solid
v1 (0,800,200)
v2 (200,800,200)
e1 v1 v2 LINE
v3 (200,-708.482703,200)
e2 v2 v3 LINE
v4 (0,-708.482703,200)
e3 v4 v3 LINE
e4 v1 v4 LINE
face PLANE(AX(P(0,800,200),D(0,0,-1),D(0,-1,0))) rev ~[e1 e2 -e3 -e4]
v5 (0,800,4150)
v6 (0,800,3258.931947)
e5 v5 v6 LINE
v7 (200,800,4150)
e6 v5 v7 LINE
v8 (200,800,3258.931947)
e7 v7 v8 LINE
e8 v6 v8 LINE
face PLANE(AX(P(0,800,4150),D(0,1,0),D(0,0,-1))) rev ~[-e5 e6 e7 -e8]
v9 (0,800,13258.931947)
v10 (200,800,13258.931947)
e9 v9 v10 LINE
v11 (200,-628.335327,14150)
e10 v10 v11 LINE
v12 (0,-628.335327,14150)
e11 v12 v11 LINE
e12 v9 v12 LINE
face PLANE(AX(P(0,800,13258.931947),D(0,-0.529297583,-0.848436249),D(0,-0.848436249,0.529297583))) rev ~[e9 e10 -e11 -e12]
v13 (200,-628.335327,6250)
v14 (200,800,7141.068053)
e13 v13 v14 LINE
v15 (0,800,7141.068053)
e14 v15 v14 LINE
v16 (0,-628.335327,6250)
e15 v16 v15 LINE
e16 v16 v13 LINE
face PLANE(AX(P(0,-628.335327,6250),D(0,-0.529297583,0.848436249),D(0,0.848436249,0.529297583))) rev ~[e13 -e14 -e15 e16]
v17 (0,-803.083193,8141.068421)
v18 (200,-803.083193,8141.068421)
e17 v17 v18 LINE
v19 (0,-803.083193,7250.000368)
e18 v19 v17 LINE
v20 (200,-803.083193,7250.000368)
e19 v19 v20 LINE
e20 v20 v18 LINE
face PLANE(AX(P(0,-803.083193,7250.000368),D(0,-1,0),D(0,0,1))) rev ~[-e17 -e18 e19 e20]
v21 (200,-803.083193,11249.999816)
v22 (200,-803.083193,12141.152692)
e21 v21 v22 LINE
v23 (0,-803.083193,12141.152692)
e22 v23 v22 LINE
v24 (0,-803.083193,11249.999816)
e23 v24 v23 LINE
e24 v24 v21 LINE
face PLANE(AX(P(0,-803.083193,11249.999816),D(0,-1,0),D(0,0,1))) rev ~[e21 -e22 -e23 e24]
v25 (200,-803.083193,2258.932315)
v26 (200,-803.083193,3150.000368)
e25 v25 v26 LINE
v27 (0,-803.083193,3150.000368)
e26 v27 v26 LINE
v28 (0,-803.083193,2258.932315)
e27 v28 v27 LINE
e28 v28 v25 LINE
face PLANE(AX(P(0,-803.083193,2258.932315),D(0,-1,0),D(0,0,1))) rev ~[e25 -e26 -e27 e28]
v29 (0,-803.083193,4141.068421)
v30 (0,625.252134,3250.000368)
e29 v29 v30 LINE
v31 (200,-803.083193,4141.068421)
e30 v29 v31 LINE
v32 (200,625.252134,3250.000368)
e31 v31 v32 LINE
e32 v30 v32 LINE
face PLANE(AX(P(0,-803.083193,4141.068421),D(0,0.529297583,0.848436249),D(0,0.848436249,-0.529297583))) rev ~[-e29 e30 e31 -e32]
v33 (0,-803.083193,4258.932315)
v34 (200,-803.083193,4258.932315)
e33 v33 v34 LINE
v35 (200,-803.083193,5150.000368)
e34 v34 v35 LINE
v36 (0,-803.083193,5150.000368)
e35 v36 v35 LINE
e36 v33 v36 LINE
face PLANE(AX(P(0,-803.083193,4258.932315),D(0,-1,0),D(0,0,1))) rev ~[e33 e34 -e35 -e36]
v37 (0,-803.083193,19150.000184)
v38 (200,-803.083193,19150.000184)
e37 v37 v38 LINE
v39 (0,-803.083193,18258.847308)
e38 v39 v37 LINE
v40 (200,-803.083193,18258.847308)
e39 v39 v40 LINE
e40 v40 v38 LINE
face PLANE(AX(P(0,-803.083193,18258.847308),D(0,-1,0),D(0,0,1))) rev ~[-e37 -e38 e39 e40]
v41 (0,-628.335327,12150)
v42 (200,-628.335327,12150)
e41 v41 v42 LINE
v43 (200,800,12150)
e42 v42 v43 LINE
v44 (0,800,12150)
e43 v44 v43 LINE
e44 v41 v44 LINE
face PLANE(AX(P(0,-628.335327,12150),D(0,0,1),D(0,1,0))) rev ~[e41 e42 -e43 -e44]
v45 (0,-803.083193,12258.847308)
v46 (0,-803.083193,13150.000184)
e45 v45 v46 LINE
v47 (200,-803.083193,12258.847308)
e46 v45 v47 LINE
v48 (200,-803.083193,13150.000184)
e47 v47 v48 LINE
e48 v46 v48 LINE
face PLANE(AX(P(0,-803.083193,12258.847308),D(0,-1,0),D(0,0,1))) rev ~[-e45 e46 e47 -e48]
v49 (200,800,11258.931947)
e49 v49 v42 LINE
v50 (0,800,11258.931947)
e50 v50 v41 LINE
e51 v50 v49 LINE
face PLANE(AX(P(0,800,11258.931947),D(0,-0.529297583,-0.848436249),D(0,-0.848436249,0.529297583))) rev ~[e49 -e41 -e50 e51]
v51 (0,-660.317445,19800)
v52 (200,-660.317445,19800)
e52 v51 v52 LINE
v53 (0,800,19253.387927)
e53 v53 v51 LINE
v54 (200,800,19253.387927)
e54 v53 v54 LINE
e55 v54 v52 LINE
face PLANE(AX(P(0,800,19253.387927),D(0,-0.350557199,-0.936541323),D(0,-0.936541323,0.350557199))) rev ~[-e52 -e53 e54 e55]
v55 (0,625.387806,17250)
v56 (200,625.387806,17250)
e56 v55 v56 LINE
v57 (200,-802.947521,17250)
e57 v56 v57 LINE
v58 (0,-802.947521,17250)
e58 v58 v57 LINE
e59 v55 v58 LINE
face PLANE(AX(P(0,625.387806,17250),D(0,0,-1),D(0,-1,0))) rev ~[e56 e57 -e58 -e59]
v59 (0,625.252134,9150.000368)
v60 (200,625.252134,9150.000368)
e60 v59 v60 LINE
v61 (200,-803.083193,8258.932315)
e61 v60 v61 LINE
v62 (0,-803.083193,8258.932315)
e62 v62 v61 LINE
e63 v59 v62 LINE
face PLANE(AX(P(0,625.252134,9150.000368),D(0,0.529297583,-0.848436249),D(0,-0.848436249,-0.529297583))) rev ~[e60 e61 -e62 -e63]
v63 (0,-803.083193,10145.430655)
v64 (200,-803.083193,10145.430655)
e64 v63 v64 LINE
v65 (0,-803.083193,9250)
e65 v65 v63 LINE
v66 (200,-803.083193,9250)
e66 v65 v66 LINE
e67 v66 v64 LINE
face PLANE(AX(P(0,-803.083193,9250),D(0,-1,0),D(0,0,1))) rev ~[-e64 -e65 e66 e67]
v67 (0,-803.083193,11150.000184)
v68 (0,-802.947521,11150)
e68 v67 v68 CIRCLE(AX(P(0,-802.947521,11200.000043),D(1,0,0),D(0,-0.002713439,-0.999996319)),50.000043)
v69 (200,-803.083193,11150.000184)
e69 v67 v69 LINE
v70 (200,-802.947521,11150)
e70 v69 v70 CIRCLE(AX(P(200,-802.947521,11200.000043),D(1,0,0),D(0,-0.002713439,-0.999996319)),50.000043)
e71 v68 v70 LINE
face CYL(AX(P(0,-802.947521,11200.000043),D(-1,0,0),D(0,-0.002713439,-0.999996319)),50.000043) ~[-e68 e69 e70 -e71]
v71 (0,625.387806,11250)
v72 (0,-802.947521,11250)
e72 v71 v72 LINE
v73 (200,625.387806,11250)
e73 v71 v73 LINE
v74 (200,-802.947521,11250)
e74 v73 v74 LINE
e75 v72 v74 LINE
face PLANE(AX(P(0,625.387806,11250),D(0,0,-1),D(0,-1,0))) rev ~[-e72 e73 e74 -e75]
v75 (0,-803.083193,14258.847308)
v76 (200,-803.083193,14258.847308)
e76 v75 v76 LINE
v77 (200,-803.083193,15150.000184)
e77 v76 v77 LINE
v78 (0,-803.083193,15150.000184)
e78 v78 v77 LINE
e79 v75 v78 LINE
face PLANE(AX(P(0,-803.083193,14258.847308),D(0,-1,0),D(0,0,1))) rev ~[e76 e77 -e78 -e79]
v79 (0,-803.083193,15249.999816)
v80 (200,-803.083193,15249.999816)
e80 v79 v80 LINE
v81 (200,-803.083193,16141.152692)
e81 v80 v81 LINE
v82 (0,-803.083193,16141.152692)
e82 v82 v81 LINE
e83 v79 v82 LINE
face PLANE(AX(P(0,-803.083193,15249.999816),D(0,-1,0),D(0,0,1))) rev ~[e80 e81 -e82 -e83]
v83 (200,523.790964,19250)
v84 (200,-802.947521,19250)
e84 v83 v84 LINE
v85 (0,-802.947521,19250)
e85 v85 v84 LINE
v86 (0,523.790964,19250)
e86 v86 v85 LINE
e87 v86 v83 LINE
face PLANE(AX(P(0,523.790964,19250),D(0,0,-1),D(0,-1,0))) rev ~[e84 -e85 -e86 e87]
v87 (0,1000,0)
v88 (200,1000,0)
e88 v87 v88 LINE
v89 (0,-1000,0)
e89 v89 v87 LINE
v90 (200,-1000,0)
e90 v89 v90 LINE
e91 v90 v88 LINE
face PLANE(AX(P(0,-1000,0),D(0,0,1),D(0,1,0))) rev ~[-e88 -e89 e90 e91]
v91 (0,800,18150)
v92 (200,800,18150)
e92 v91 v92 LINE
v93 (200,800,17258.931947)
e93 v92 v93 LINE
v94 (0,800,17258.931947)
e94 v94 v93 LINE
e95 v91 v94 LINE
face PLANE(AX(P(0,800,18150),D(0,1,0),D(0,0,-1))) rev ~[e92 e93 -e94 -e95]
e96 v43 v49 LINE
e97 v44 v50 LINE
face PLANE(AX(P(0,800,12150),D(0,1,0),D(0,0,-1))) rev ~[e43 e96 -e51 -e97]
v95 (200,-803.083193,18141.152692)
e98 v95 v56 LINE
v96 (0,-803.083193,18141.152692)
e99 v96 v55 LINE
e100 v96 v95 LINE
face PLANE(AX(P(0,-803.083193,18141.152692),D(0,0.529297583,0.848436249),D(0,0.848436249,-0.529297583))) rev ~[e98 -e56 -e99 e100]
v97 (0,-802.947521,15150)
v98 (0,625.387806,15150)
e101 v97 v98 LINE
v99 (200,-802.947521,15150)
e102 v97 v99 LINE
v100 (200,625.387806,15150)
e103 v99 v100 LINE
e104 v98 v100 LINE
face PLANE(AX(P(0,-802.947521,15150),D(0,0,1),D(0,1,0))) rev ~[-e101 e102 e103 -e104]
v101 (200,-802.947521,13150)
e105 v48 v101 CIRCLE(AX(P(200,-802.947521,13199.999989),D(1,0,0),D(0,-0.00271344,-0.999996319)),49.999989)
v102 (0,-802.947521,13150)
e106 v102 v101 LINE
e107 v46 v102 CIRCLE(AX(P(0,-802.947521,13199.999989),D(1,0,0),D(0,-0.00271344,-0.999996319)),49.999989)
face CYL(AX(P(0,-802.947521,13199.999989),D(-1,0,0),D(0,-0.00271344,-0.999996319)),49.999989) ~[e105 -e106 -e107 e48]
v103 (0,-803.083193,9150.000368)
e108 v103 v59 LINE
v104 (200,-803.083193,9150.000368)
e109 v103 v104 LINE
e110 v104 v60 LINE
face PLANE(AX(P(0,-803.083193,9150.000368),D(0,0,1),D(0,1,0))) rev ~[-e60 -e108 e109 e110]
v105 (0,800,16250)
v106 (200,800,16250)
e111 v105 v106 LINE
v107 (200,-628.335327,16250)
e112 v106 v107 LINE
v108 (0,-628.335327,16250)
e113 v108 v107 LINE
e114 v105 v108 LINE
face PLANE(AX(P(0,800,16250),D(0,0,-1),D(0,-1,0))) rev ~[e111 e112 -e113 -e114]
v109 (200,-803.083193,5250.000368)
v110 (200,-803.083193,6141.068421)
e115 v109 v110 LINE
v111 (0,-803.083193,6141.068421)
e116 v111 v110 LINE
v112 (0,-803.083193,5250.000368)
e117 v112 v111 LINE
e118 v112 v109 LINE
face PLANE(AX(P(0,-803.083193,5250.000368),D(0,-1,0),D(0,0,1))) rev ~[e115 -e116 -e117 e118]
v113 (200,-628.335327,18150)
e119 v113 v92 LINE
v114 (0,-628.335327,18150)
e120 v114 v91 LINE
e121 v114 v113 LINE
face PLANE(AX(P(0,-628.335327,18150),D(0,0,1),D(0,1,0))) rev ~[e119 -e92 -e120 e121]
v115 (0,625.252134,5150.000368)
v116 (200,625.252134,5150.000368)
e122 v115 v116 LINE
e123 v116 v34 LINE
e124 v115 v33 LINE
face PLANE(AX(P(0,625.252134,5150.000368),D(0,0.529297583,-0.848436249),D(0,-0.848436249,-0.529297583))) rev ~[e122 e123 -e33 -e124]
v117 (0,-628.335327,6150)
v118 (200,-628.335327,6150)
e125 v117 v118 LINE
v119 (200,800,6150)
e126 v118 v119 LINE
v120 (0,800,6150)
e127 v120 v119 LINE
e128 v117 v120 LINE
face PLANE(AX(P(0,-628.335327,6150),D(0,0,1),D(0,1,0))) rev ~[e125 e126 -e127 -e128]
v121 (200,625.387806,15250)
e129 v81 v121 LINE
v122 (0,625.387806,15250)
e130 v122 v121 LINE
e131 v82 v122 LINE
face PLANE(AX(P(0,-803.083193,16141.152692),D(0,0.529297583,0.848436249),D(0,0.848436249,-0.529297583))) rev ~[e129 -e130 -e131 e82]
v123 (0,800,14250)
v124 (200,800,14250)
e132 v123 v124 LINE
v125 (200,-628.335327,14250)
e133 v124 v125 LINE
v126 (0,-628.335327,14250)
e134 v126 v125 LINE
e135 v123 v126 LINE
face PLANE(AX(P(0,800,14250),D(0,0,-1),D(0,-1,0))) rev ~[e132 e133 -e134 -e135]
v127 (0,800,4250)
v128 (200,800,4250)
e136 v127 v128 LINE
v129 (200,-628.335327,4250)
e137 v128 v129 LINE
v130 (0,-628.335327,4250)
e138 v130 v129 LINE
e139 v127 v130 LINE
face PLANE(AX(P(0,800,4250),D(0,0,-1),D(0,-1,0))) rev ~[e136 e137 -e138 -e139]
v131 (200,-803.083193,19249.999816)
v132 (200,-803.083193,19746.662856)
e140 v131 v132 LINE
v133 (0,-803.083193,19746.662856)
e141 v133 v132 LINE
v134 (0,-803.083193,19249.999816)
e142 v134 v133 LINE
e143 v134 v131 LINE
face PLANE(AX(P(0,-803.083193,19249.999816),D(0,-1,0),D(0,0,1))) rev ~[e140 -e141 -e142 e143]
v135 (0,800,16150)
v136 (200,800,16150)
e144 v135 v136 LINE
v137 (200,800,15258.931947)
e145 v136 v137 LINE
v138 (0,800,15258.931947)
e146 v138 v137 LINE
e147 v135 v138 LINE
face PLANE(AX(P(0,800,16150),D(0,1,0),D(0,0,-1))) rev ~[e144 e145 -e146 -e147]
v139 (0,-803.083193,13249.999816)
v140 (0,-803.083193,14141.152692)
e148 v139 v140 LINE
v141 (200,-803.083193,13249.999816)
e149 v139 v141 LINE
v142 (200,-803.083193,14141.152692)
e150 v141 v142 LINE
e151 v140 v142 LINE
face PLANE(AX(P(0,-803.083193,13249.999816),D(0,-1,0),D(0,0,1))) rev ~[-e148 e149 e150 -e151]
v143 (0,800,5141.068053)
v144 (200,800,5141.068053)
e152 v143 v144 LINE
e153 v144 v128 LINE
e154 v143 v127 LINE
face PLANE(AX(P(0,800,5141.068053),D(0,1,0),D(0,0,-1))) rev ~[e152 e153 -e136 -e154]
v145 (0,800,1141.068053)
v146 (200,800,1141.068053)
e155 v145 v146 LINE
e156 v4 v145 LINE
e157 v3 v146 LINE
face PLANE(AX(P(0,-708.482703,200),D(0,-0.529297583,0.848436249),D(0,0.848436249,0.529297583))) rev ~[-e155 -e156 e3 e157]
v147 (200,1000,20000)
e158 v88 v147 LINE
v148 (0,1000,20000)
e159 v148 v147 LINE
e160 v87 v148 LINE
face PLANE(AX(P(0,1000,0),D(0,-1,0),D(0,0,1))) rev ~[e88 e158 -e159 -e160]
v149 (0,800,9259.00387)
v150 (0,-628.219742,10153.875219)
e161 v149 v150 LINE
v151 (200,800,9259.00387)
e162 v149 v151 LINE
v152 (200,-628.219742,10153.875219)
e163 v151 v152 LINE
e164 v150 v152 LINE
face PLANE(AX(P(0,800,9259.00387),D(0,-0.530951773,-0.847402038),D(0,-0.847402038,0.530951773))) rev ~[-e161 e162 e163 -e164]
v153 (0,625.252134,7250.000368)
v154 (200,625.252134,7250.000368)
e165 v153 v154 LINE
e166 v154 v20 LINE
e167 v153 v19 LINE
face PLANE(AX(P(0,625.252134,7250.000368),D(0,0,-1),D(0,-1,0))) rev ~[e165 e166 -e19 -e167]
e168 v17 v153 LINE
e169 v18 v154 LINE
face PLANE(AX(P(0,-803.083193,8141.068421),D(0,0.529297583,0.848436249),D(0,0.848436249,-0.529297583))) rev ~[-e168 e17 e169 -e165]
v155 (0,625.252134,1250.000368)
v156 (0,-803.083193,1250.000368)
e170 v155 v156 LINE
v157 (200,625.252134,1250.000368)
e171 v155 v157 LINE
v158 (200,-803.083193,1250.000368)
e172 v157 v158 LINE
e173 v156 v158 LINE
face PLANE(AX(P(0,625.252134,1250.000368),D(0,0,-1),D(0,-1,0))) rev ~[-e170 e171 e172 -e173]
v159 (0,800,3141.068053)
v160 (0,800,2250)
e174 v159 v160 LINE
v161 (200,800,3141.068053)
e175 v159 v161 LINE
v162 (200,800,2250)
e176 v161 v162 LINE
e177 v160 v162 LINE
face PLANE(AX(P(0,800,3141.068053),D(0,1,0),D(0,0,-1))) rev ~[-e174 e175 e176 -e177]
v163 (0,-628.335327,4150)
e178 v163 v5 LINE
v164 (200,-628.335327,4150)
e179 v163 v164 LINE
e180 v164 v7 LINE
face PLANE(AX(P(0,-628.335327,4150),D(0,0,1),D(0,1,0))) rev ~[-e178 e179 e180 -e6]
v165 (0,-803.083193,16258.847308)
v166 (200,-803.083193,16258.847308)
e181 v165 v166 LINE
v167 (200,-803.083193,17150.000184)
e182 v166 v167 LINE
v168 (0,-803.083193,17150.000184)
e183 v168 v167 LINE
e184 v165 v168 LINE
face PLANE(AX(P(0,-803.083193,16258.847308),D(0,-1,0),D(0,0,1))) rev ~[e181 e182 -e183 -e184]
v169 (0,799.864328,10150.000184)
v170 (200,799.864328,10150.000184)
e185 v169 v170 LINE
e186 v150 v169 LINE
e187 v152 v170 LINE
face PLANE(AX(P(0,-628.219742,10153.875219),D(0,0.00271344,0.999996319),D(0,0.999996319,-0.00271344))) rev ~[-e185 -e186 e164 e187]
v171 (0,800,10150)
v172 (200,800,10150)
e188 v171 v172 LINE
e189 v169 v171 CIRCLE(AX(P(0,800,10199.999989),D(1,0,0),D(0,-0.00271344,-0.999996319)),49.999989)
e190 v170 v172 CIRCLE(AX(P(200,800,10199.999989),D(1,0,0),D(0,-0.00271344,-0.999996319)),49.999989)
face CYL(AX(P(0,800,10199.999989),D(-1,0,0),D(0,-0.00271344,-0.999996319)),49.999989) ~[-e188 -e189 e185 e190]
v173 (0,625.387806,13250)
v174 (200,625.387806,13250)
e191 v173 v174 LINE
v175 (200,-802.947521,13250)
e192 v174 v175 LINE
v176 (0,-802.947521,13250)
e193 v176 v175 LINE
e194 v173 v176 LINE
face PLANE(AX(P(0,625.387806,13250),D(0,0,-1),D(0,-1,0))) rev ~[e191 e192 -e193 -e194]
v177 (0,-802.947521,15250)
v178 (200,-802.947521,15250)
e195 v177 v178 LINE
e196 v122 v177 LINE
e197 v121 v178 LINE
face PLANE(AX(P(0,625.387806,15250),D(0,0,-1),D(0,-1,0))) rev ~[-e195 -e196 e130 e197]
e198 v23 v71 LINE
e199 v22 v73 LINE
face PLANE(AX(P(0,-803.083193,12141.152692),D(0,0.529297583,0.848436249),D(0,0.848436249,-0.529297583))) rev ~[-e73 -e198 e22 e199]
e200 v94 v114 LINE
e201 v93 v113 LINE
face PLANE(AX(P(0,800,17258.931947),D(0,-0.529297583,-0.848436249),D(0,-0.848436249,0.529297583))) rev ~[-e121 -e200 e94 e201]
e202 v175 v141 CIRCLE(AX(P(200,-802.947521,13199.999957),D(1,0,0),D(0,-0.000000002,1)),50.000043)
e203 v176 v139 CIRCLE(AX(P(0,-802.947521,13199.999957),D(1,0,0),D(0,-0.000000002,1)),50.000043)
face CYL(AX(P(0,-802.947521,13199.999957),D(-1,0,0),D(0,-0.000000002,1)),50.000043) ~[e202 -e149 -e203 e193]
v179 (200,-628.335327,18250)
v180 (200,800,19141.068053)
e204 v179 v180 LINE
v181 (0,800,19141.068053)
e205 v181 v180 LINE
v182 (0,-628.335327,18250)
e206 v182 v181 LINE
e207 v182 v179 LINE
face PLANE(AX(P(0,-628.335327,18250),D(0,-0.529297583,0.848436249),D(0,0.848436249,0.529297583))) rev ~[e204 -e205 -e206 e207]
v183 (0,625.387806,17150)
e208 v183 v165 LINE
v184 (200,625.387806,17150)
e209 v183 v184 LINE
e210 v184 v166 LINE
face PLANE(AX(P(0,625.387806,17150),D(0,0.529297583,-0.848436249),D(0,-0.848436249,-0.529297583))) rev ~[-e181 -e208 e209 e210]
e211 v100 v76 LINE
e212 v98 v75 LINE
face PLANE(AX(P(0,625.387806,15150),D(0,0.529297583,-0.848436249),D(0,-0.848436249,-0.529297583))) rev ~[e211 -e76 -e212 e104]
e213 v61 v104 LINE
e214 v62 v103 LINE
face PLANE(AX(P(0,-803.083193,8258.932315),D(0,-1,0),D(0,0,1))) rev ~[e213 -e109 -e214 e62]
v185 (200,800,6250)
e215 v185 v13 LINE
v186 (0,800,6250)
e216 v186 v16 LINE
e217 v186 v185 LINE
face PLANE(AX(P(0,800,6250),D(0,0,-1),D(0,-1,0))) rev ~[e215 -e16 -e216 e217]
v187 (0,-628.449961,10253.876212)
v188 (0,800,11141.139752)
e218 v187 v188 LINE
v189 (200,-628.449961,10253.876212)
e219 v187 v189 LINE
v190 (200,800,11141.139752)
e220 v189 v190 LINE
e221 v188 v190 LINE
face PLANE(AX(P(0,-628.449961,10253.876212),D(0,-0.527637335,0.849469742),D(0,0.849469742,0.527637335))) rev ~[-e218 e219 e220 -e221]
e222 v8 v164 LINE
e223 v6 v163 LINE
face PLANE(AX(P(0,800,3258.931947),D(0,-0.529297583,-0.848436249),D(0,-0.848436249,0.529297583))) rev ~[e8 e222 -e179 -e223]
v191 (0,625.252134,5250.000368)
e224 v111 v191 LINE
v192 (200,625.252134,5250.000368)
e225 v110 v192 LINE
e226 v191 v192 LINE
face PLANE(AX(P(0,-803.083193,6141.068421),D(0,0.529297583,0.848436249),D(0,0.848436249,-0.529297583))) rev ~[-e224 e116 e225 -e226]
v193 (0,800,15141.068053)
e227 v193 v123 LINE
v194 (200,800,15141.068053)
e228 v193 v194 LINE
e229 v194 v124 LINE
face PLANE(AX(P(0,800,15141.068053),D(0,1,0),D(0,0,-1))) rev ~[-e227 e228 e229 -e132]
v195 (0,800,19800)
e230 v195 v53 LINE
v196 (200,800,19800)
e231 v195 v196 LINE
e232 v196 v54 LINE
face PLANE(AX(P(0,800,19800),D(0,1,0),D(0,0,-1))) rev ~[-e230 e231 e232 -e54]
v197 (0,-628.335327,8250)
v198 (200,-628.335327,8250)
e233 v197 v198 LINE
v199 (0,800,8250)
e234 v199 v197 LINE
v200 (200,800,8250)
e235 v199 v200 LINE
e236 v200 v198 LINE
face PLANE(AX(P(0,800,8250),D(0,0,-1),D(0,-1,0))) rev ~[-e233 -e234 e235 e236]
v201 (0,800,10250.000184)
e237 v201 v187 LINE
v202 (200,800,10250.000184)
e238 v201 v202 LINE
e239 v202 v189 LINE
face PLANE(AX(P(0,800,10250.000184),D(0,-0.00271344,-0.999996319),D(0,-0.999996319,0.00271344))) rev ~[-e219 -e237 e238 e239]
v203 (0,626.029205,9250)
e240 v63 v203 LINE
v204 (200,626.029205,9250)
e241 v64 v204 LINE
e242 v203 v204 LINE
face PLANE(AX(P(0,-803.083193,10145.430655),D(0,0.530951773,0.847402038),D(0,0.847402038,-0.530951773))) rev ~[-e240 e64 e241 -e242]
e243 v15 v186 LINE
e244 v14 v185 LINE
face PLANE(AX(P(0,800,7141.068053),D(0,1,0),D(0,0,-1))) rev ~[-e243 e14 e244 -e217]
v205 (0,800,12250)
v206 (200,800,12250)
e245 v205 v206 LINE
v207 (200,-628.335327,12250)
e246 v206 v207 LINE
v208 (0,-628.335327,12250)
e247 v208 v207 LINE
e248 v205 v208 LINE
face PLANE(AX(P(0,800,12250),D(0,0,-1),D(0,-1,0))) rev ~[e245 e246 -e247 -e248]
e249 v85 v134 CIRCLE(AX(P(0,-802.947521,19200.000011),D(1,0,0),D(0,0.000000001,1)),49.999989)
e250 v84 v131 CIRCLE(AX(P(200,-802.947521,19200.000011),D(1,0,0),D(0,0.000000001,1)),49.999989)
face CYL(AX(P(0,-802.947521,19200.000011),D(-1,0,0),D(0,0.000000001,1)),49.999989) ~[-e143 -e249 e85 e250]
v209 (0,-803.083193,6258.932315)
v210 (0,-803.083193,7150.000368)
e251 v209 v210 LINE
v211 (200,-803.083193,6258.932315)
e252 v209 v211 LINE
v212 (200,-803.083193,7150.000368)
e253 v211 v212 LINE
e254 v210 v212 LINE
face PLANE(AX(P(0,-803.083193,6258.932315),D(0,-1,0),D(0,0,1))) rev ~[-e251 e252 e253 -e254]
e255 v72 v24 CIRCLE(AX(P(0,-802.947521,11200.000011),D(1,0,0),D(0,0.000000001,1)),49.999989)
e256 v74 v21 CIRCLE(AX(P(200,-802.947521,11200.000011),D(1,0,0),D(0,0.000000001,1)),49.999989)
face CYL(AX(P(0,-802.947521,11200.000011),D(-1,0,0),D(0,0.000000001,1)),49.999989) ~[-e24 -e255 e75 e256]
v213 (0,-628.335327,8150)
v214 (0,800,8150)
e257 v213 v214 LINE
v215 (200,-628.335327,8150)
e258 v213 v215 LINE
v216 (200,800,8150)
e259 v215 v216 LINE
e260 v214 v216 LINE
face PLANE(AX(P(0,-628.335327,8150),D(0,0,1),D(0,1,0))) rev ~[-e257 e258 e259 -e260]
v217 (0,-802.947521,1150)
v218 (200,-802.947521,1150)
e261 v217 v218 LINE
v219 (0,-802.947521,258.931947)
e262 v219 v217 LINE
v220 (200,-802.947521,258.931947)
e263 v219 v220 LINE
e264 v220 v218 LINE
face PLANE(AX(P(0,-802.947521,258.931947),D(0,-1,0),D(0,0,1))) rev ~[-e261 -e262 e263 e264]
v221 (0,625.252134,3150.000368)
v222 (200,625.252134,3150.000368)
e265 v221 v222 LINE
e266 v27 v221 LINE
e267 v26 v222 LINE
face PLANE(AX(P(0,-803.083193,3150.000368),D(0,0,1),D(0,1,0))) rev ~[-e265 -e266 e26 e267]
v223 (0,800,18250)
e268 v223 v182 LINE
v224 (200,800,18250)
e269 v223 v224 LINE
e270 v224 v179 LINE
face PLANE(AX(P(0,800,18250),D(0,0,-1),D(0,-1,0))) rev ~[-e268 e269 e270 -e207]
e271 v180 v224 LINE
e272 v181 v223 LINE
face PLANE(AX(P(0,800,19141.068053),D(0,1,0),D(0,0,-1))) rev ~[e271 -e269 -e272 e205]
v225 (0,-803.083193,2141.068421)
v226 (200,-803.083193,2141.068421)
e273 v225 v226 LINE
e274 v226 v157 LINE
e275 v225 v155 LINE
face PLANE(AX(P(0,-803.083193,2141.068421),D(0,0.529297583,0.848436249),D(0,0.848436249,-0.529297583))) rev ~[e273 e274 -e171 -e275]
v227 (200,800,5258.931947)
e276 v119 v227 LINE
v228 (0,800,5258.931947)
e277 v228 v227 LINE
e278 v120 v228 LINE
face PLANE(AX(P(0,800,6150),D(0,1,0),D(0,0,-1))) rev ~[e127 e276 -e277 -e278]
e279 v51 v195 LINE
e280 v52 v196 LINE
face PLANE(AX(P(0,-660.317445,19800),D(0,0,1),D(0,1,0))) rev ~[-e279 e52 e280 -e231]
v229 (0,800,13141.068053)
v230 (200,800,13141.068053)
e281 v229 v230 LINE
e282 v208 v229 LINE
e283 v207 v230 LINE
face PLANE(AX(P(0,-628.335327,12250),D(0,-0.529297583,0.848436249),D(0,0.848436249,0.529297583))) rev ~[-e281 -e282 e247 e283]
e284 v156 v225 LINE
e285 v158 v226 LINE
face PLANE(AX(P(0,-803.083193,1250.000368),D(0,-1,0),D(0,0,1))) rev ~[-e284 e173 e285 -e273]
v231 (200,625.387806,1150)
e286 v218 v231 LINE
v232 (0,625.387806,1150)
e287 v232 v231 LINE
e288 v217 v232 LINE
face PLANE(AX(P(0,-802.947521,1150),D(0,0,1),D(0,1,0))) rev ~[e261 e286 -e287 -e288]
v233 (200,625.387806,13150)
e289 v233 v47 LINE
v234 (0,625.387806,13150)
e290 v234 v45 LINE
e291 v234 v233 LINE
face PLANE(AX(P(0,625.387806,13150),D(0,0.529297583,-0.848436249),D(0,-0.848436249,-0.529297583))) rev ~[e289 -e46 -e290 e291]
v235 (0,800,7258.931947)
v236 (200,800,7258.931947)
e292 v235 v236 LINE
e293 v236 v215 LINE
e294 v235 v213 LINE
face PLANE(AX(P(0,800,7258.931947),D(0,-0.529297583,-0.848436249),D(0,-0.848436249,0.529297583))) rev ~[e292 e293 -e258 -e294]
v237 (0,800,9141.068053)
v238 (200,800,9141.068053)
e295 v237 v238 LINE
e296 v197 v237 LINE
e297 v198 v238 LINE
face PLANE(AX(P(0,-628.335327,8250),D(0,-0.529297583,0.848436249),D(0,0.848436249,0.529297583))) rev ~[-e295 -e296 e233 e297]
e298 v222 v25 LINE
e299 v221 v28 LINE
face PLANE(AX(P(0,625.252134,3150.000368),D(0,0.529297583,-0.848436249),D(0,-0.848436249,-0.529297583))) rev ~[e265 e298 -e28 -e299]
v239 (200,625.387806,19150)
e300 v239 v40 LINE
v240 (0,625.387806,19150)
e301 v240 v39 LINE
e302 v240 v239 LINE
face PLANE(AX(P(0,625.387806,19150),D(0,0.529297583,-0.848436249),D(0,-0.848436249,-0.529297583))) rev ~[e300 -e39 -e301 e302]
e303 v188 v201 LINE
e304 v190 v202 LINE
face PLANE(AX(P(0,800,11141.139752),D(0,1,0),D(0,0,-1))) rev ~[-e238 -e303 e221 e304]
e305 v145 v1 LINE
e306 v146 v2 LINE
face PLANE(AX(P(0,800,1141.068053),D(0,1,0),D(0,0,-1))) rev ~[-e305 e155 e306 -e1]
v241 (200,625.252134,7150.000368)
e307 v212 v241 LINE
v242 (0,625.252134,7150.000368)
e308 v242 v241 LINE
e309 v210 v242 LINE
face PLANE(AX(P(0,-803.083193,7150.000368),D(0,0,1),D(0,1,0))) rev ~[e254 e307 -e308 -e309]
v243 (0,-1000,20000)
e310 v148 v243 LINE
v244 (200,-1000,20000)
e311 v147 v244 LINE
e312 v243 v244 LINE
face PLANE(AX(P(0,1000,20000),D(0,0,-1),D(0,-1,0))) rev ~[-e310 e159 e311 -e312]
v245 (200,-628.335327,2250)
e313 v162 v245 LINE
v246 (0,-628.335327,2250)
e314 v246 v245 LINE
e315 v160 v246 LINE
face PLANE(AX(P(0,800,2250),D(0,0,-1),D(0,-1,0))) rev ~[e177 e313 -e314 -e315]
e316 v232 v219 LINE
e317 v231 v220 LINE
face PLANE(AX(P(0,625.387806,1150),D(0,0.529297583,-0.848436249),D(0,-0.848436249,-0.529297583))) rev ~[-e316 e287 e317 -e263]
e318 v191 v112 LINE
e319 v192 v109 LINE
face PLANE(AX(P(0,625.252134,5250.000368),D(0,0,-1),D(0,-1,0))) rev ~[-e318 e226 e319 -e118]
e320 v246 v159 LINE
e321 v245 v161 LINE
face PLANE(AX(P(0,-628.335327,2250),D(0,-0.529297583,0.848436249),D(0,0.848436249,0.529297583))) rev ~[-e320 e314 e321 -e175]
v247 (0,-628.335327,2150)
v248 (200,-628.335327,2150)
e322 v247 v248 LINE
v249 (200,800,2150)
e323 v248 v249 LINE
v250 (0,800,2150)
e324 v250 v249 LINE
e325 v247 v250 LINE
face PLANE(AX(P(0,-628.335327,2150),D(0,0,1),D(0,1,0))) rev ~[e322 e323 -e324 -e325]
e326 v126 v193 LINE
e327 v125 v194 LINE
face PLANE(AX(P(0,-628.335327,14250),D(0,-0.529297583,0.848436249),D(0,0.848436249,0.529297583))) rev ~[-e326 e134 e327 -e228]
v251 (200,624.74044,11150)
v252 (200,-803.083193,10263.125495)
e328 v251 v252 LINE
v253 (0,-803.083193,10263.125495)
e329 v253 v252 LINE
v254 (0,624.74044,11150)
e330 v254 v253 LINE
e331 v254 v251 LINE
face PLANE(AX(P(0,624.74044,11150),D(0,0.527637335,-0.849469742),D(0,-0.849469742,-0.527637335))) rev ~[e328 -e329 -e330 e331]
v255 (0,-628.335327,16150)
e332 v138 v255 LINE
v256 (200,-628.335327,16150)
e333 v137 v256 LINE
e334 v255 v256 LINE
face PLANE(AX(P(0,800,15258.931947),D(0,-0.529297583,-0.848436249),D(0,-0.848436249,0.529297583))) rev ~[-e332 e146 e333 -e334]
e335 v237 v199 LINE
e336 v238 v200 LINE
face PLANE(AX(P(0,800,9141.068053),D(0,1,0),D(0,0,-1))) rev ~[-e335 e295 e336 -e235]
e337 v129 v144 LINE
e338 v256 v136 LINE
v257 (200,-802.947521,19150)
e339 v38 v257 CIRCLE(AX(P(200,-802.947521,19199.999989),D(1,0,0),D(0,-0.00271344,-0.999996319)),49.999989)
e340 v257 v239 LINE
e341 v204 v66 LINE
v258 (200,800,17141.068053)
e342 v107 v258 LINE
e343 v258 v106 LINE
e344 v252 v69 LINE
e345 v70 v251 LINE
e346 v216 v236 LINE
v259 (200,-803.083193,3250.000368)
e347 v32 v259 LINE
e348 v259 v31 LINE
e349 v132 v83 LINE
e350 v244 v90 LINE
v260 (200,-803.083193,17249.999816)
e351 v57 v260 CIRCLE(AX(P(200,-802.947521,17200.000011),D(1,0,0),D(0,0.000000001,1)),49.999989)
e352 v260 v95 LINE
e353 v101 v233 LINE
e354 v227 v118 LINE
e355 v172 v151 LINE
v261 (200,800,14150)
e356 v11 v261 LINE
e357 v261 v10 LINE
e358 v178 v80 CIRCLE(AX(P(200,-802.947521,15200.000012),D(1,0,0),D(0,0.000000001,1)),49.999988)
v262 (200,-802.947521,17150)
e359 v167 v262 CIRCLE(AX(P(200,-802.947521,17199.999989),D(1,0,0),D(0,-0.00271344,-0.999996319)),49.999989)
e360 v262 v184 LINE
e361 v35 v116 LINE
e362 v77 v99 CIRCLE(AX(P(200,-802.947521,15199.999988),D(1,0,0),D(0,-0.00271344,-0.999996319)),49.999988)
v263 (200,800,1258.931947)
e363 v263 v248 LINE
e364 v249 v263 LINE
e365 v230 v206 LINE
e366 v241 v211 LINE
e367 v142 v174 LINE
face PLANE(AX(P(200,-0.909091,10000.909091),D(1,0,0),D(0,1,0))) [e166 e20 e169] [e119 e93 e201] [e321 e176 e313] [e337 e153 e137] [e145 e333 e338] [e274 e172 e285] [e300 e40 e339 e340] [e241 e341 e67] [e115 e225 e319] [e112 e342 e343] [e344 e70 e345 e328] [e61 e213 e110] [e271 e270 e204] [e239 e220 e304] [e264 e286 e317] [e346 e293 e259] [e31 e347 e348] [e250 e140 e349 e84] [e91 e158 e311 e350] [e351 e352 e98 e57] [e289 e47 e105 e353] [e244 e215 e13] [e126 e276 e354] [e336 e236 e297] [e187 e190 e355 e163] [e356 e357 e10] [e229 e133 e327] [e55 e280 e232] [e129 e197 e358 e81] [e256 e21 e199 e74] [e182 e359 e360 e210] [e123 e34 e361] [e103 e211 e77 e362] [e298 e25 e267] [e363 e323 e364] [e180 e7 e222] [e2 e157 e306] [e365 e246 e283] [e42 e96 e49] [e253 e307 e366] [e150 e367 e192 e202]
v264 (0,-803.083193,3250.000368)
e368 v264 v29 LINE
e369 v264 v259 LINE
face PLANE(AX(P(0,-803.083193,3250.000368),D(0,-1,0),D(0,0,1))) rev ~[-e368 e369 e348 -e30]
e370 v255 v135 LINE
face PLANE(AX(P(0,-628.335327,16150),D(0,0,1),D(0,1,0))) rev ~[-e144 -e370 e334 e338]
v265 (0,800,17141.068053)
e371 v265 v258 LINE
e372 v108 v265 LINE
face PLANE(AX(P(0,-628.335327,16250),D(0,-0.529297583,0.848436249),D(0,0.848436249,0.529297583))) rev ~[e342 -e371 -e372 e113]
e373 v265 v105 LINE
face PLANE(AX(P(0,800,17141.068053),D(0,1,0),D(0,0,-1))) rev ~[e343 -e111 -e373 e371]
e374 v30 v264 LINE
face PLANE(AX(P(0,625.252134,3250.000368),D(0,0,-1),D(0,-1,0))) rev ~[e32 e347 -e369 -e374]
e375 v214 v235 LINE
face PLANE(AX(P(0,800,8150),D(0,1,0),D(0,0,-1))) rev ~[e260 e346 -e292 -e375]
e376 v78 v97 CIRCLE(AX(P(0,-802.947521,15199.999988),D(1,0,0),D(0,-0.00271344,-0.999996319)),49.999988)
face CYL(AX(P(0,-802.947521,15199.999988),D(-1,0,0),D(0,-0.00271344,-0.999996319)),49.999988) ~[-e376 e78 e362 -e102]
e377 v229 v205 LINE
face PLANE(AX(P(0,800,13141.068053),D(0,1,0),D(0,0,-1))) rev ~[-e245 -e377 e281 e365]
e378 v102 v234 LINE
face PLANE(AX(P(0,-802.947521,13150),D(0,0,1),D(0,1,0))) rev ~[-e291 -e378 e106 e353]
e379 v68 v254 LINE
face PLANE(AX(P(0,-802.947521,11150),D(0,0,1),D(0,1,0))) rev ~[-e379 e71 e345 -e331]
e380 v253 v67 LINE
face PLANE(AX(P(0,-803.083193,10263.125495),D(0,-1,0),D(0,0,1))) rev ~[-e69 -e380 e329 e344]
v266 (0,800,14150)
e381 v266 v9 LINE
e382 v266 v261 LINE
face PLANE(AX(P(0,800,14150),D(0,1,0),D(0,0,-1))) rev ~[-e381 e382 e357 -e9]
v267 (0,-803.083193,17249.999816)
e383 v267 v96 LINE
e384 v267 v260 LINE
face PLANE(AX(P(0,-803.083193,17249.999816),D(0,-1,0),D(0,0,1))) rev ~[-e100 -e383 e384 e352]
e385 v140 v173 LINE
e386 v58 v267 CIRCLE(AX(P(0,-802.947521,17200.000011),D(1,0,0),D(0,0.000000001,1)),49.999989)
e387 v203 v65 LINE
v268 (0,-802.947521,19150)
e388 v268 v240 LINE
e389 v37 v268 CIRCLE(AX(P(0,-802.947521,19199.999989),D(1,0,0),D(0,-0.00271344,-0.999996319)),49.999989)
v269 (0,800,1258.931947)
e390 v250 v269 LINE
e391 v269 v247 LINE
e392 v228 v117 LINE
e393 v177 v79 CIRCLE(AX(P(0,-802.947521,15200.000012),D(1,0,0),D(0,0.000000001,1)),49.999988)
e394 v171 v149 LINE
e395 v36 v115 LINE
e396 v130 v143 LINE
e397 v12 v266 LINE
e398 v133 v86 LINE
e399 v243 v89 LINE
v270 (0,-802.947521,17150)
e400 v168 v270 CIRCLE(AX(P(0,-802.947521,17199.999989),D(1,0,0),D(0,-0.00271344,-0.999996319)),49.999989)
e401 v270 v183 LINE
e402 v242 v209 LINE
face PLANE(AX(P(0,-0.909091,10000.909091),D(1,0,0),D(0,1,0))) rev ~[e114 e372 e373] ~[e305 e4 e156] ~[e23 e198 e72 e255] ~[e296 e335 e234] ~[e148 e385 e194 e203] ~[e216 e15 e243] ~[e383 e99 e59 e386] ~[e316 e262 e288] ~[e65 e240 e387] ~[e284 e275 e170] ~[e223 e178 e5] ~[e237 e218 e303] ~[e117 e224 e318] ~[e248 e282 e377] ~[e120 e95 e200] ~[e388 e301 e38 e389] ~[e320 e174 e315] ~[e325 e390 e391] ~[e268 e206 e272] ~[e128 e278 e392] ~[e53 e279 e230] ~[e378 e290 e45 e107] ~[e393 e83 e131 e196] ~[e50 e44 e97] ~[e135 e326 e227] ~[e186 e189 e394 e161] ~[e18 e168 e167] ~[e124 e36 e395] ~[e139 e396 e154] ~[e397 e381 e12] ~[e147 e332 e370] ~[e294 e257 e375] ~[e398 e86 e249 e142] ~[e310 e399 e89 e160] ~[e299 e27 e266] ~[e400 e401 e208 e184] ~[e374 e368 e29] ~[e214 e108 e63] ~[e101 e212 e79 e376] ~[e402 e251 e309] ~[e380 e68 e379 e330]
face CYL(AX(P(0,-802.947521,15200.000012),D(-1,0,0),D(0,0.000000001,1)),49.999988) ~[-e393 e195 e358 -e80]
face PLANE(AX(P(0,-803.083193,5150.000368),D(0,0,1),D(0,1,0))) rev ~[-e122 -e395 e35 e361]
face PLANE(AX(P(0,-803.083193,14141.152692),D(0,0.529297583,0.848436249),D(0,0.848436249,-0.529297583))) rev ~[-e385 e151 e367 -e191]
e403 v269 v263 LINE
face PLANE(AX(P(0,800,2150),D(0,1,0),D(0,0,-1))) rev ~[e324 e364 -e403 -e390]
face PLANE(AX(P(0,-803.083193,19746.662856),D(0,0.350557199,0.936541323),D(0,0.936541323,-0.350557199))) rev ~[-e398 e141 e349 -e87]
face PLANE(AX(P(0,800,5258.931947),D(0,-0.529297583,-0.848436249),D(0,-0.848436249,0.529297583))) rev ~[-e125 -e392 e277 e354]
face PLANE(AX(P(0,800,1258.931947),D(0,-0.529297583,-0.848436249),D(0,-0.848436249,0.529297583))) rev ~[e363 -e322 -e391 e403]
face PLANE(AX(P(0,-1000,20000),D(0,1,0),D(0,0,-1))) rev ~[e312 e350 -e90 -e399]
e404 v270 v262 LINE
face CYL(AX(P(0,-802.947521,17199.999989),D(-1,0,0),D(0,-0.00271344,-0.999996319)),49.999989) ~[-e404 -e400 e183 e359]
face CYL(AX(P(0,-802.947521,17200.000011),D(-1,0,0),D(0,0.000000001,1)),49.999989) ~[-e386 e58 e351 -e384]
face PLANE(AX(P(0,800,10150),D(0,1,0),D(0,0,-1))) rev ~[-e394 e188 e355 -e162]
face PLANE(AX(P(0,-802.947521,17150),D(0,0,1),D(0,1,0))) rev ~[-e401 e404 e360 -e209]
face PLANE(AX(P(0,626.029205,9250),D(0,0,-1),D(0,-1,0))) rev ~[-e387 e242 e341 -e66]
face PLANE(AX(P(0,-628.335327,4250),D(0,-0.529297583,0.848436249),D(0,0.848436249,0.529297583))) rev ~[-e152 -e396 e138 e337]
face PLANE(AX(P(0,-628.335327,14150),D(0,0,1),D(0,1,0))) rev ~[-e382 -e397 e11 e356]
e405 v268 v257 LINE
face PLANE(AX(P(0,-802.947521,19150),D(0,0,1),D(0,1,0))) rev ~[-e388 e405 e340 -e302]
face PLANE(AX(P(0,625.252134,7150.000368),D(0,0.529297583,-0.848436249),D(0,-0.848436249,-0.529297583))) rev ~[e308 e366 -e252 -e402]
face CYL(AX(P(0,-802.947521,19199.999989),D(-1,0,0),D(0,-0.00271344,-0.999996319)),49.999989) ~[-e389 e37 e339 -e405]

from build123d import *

# Parameters (mm, degrees)
F0_W     = 200
F0_H     = 200
F1_DEPTH = 200


with BuildPart() as f1:
    # F0 (on Right) → F1 (new body)
    with BuildSketch(Plane.YZ):
        Polygon((-800, 0), (0, 0), (800, 0), (800, 200), (1000, 200), (1000, 20000), (-803.0831932057, 20000), (-1000, 20000), (-1000, 19800), (-1000, 0), align=None)
        Polygon((-802.9475212097, 1150), (625.3878056769, 1150), (-802.9475212097, 258.9319469369), align=None, mode=Mode.SUBTRACT)
        Polygon((-803.0831932057, 2141.0684212425), (625.252133681, 1250.0003681794), (-803.0831932057, 1250.0003681794), align=None, mode=Mode.SUBTRACT)
        Polygon((625.252133681, 3150.0003681793), (-803.0831932057, 2258.9323151163), (-803.0831932057, 3150.0003681795), align=None, mode=Mode.SUBTRACT)
        Polygon((-803.0831932057, 4141.0684212424), (625.2521336808, 3250.0003681795), (-803.0831932057, 3250.0003681793), align=None, mode=Mode.SUBTRACT)
        Polygon((625.2521336809, 5150.0003681793), (-803.0831932057, 4258.9323151163), (-803.0831932057, 5150.0003681793), align=None, mode=Mode.SUBTRACT)
        Polygon((625.252133681, 5250.0003681794), (-803.0831932057, 5250.0003681794), (-803.0831932057, 6141.0684212425), align=None, mode=Mode.SUBTRACT)
        Polygon((-803.0831932057, 7150.0003681793), (625.252133681, 7150.0003681794), (-803.0831932057, 6258.9323151163), align=None, mode=Mode.SUBTRACT)
        Polygon((-803.0831932057, 8141.0684212425), (625.252133681, 7250.0003681793), (-803.0831932057, 7250.0003681792), align=None, mode=Mode.SUBTRACT)
        Polygon((625.252133705, 9150.0003681404), (-803.0831932057, 8258.9323151163), (-803.0831932057, 9150.0003681414), align=None, mode=Mode.SUBTRACT)
        Polygon((-803.0831932057, 10145.4306546926), (626.0292053024, 9249.9999999981), (-803.0831932057, 9250.0000000154), align=None, mode=Mode.SUBTRACT)
        Polygon((800, 1141.0680530631), (800, 200), (-708.4827029471, 200), align=None, mode=Mode.SUBTRACT)
        Polygon((800, 2150), (800, 1258.9319469369), (-628.3353268867, 2150), align=None, mode=Mode.SUBTRACT)
        Polygon((800, 3141.0680530631), (800, 2250.0000000003), (-628.3353268868, 2250.0000000002), align=None, mode=Mode.SUBTRACT)
        Polygon((800, 4150), (800, 3258.9319469369), (-628.3353268867, 4150), align=None, mode=Mode.SUBTRACT)
        Polygon((800, 5141.0680530631), (800, 4250), (-628.3353268867, 4250), align=None, mode=Mode.SUBTRACT)
        Polygon((800, 6150), (800, 5258.9319469369), (-628.3353268867, 6150), align=None, mode=Mode.SUBTRACT)
        Polygon((800, 7141.0680530631), (800, 6250.0000000007), (-628.3353268871, 6250.0000000007), align=None, mode=Mode.SUBTRACT)
        Polygon((800, 8150), (800, 7258.9319469369), (-628.3353268867, 8150), align=None, mode=Mode.SUBTRACT)
        Polygon((800, 9141.0680530631), (800, 8250.0000000003), (-628.3353268868, 8250.0000000003), align=None, mode=Mode.SUBTRACT)
        with BuildLine():
            Line((800, 10149.9999999992), (800, 9259.0038703129))
            Line((800, 9259.0038703129), (-628.2197423898, 10153.8752186742))
            Line((-628.2197423898, 10153.8752186742), (799.8643280035, 10150.0001840684))
            ThreePointArc((799.8643280035, 10150.0001840684), (799.9321639393, 10150.0000460165), (800, 10149.9999999992))
        make_face(mode=Mode.SUBTRACT)
        Polygon((705.5469825314, 9200.0923691318), (705.6938166383, 9200.0003681383), (705.399509767, 9200.0003681383), align=None, mode=Mode.SUBTRACT)
        Polygon((-708.3674135023, 10204.0928794358), (-708.5976319881, 10204.0935041221), (-708.4825227452, 10204.1650027655), align=None, mode=Mode.SUBTRACT)
        with BuildLine():
            ThreePointArc((-803.0831932057, 11150.0001840603), (-803.0153572699, 11150.0000460084), (-802.9475212092, 11149.999999991))
            Line((-802.9475212092, 11149.999999991), (624.7404401391, 11149.9999999987))
            Line((624.7404401391, 11149.9999999987), (-803.0831932057, 10263.1254952541))
            Line((-803.0831932057, 10263.1254952541), (-803.0831932057, 11150.0001840603))
        make_face(mode=Mode.SUBTRACT)
        with BuildLine():
            ThreePointArc((-802.9475212092, 11250.0000000073), (-803.0153572699, 11249.99995399), (-803.0831932057, 11249.9998159381))
            Line((-803.0831932057, 11249.9998159381), (-803.0831932057, 12141.1526921379))
            Line((-803.0831932057, 12141.1526921379), (625.3878056754, 11250.0000000005))
            Line((625.3878056754, 11250.0000000005), (-802.9475212092, 11250.0000000073))
        make_face(mode=Mode.SUBTRACT)
        with BuildLine():
            ThreePointArc((-803.0831932057, 13150.0001840684), (-803.0153572699, 13150.0000460165), (-802.9475212092, 13149.9999999992))
            Line((-802.9475212092, 13149.9999999992), (625.3878056775, 13149.9999999992))
            Line((625.3878056775, 13149.9999999992), (-803.0831932057, 12258.8473078604))
            Line((-803.0831932057, 12258.8473078604), (-803.0831932057, 13150.0001840684))
        make_face(mode=Mode.SUBTRACT)
        with BuildLine():
            ThreePointArc((-802.9475212092, 13249.9999999992), (-803.0153572699, 13249.9999539818), (-803.0831932057, 13249.9998159299))
            Line((-803.0831932057, 13249.9998159299), (-803.0831932057, 14141.1526921379))
            Line((-803.0831932057, 14141.1526921379), (625.3878056779, 13249.9999999998))
            Line((625.3878056779, 13249.9999999998), (-802.9475212092, 13249.9999999992))
        make_face(mode=Mode.SUBTRACT)
        with BuildLine():
            ThreePointArc((-803.0831932057, 15150.0001840692), (-803.0153572701, 15150.0000460173), (-802.9475212097, 15150))
            Line((-802.9475212097, 15150), (625.387805677, 15150))
            Line((625.387805677, 15150), (-803.0831932057, 14258.8473078604))
            Line((-803.0831932057, 14258.8473078604), (-803.0831932057, 15150.0001840692))
        make_face(mode=Mode.SUBTRACT)
        with BuildLine():
            ThreePointArc((-802.9475212097, 15250), (-803.0153572701, 15249.9999539827), (-803.0831932057, 15249.9998159308))
            Line((-803.0831932057, 15249.9998159308), (-803.0831932057, 16141.1526921384))
            Line((-803.0831932057, 16141.1526921384), (625.3878056772, 15250.0000000005))
            Line((625.3878056771, 15250.0000000005), (-802.9475212097, 15250))
        make_face(mode=Mode.SUBTRACT)
        with BuildLine():
            ThreePointArc((-803.0831932057, 17150.0001840692), (-803.0153572701, 17150.0000460173), (-802.9475212097, 17150))
            Line((-802.9475212097, 17150), (625.3878056769, 17150))
            Line((625.3878056769, 17150), (-803.0831932057, 16258.8473078616))
            Line((-803.0831932057, 16258.8473078616), (-803.0831932057, 17150.0001840692))
        make_face(mode=Mode.SUBTRACT)
        with BuildLine():
            ThreePointArc((-802.9475212097, 17250), (-803.0153572701, 17249.9999539827), (-803.0831932057, 17249.9998159308))
            Line((-803.0831932057, 17249.9998159308), (-803.0831932057, 18141.1526921384))
            Line((-803.0831932057, 18141.1526921384), (625.387805677, 17250))
            Line((625.3878056769, 17250), (-802.9475212097, 17250))
        make_face(mode=Mode.SUBTRACT)
        with BuildLine():
            ThreePointArc((-803.0831932057, 19150.0001840692), (-803.0153572702, 19150.0000460173), (-802.9475212098, 19150))
            Line((-802.9475212098, 19150), (625.3878056769, 19150))
            Line((625.3878056769, 19150), (-803.0831932057, 18258.8473078617))
            Line((-803.0831932057, 18258.8473078617), (-803.0831932057, 19150.0001840692))
        make_face(mode=Mode.SUBTRACT)
        with BuildLine():
            ThreePointArc((-802.9475212098, 19250), (-803.0153572702, 19249.9999539827), (-803.0831932057, 19249.9998159308))
            Line((-803.0831932057, 19249.9998159308), (-803.0831932057, 19746.6628562227))
            Line((-803.0831932057, 19746.6628562227), (523.7909638927, 19250))
            Line((523.7909638927, 19250), (-802.9475212098, 19250))
        make_face(mode=Mode.SUBTRACT)
        Polygon((800, 11141.1397516309), (800, 10250.0001840699), (-628.4499608737, 10253.8762115003), align=None, mode=Mode.SUBTRACT)
        Polygon((800, 12149.9999999992), (800, 11258.9319469369), (-628.3353268861, 12149.9999999992), align=None, mode=Mode.SUBTRACT)
        Polygon((800, 13141.0680530631), (800, 12249.9999999992), (-628.3353268861, 12249.9999999992), align=None, mode=Mode.SUBTRACT)
        Polygon((800, 14149.9999999991), (800, 13258.9319469367), (-628.3353268861, 14149.9999999992), align=None, mode=Mode.SUBTRACT)
        Polygon((800, 15141.0680530631), (800, 14249.9999999973), (-628.3353268861, 14249.999999999), align=None, mode=Mode.SUBTRACT)
        Polygon((705.3868855449, 11200.0925146892), (705.535181738, 11199.9999999992), (705.2379415172, 11199.9999999992), align=None, mode=Mode.SUBTRACT)
        Polygon((800, 16150), (800, 15258.9319469367), (-628.3353268867, 16150), align=None, mode=Mode.SUBTRACT)
        Polygon((800, 17141.0680530631), (800, 16250), (-628.3353268867, 16250), align=None, mode=Mode.SUBTRACT)
        Polygon((800, 18150), (800, 17258.9319469369), (-628.3353268866, 18150), align=None, mode=Mode.SUBTRACT)
        Polygon((800, 19141.0680530631), (800, 18249.9999999992), (-628.3353268867, 18250), align=None, mode=Mode.SUBTRACT)
        Polygon((800, 19800), (800, 19253.3879272225), (-660.3174452032, 19800), align=None, mode=Mode.SUBTRACT)
        with Locations((900, 100)):
            Rectangle(F0_W, F0_H)
        Polygon((705.2379415172, 11199.9999999992), (705.535181738, 11199.9999999992), (705.3868855449, 11200.0925146892), align=None)
        Polygon((705.399509767, 9200.0003681383), (705.6938166383, 9200.0003681383), (705.5469825314, 9200.0923691318), align=None)
        Polygon((-708.4825227452, 10204.1650027655), (-708.5976319881, 10204.0935041221), (-708.3674135023, 10204.0928794358), align=None)
    extrude(amount=F1_DEPTH)


solid = f1.part
